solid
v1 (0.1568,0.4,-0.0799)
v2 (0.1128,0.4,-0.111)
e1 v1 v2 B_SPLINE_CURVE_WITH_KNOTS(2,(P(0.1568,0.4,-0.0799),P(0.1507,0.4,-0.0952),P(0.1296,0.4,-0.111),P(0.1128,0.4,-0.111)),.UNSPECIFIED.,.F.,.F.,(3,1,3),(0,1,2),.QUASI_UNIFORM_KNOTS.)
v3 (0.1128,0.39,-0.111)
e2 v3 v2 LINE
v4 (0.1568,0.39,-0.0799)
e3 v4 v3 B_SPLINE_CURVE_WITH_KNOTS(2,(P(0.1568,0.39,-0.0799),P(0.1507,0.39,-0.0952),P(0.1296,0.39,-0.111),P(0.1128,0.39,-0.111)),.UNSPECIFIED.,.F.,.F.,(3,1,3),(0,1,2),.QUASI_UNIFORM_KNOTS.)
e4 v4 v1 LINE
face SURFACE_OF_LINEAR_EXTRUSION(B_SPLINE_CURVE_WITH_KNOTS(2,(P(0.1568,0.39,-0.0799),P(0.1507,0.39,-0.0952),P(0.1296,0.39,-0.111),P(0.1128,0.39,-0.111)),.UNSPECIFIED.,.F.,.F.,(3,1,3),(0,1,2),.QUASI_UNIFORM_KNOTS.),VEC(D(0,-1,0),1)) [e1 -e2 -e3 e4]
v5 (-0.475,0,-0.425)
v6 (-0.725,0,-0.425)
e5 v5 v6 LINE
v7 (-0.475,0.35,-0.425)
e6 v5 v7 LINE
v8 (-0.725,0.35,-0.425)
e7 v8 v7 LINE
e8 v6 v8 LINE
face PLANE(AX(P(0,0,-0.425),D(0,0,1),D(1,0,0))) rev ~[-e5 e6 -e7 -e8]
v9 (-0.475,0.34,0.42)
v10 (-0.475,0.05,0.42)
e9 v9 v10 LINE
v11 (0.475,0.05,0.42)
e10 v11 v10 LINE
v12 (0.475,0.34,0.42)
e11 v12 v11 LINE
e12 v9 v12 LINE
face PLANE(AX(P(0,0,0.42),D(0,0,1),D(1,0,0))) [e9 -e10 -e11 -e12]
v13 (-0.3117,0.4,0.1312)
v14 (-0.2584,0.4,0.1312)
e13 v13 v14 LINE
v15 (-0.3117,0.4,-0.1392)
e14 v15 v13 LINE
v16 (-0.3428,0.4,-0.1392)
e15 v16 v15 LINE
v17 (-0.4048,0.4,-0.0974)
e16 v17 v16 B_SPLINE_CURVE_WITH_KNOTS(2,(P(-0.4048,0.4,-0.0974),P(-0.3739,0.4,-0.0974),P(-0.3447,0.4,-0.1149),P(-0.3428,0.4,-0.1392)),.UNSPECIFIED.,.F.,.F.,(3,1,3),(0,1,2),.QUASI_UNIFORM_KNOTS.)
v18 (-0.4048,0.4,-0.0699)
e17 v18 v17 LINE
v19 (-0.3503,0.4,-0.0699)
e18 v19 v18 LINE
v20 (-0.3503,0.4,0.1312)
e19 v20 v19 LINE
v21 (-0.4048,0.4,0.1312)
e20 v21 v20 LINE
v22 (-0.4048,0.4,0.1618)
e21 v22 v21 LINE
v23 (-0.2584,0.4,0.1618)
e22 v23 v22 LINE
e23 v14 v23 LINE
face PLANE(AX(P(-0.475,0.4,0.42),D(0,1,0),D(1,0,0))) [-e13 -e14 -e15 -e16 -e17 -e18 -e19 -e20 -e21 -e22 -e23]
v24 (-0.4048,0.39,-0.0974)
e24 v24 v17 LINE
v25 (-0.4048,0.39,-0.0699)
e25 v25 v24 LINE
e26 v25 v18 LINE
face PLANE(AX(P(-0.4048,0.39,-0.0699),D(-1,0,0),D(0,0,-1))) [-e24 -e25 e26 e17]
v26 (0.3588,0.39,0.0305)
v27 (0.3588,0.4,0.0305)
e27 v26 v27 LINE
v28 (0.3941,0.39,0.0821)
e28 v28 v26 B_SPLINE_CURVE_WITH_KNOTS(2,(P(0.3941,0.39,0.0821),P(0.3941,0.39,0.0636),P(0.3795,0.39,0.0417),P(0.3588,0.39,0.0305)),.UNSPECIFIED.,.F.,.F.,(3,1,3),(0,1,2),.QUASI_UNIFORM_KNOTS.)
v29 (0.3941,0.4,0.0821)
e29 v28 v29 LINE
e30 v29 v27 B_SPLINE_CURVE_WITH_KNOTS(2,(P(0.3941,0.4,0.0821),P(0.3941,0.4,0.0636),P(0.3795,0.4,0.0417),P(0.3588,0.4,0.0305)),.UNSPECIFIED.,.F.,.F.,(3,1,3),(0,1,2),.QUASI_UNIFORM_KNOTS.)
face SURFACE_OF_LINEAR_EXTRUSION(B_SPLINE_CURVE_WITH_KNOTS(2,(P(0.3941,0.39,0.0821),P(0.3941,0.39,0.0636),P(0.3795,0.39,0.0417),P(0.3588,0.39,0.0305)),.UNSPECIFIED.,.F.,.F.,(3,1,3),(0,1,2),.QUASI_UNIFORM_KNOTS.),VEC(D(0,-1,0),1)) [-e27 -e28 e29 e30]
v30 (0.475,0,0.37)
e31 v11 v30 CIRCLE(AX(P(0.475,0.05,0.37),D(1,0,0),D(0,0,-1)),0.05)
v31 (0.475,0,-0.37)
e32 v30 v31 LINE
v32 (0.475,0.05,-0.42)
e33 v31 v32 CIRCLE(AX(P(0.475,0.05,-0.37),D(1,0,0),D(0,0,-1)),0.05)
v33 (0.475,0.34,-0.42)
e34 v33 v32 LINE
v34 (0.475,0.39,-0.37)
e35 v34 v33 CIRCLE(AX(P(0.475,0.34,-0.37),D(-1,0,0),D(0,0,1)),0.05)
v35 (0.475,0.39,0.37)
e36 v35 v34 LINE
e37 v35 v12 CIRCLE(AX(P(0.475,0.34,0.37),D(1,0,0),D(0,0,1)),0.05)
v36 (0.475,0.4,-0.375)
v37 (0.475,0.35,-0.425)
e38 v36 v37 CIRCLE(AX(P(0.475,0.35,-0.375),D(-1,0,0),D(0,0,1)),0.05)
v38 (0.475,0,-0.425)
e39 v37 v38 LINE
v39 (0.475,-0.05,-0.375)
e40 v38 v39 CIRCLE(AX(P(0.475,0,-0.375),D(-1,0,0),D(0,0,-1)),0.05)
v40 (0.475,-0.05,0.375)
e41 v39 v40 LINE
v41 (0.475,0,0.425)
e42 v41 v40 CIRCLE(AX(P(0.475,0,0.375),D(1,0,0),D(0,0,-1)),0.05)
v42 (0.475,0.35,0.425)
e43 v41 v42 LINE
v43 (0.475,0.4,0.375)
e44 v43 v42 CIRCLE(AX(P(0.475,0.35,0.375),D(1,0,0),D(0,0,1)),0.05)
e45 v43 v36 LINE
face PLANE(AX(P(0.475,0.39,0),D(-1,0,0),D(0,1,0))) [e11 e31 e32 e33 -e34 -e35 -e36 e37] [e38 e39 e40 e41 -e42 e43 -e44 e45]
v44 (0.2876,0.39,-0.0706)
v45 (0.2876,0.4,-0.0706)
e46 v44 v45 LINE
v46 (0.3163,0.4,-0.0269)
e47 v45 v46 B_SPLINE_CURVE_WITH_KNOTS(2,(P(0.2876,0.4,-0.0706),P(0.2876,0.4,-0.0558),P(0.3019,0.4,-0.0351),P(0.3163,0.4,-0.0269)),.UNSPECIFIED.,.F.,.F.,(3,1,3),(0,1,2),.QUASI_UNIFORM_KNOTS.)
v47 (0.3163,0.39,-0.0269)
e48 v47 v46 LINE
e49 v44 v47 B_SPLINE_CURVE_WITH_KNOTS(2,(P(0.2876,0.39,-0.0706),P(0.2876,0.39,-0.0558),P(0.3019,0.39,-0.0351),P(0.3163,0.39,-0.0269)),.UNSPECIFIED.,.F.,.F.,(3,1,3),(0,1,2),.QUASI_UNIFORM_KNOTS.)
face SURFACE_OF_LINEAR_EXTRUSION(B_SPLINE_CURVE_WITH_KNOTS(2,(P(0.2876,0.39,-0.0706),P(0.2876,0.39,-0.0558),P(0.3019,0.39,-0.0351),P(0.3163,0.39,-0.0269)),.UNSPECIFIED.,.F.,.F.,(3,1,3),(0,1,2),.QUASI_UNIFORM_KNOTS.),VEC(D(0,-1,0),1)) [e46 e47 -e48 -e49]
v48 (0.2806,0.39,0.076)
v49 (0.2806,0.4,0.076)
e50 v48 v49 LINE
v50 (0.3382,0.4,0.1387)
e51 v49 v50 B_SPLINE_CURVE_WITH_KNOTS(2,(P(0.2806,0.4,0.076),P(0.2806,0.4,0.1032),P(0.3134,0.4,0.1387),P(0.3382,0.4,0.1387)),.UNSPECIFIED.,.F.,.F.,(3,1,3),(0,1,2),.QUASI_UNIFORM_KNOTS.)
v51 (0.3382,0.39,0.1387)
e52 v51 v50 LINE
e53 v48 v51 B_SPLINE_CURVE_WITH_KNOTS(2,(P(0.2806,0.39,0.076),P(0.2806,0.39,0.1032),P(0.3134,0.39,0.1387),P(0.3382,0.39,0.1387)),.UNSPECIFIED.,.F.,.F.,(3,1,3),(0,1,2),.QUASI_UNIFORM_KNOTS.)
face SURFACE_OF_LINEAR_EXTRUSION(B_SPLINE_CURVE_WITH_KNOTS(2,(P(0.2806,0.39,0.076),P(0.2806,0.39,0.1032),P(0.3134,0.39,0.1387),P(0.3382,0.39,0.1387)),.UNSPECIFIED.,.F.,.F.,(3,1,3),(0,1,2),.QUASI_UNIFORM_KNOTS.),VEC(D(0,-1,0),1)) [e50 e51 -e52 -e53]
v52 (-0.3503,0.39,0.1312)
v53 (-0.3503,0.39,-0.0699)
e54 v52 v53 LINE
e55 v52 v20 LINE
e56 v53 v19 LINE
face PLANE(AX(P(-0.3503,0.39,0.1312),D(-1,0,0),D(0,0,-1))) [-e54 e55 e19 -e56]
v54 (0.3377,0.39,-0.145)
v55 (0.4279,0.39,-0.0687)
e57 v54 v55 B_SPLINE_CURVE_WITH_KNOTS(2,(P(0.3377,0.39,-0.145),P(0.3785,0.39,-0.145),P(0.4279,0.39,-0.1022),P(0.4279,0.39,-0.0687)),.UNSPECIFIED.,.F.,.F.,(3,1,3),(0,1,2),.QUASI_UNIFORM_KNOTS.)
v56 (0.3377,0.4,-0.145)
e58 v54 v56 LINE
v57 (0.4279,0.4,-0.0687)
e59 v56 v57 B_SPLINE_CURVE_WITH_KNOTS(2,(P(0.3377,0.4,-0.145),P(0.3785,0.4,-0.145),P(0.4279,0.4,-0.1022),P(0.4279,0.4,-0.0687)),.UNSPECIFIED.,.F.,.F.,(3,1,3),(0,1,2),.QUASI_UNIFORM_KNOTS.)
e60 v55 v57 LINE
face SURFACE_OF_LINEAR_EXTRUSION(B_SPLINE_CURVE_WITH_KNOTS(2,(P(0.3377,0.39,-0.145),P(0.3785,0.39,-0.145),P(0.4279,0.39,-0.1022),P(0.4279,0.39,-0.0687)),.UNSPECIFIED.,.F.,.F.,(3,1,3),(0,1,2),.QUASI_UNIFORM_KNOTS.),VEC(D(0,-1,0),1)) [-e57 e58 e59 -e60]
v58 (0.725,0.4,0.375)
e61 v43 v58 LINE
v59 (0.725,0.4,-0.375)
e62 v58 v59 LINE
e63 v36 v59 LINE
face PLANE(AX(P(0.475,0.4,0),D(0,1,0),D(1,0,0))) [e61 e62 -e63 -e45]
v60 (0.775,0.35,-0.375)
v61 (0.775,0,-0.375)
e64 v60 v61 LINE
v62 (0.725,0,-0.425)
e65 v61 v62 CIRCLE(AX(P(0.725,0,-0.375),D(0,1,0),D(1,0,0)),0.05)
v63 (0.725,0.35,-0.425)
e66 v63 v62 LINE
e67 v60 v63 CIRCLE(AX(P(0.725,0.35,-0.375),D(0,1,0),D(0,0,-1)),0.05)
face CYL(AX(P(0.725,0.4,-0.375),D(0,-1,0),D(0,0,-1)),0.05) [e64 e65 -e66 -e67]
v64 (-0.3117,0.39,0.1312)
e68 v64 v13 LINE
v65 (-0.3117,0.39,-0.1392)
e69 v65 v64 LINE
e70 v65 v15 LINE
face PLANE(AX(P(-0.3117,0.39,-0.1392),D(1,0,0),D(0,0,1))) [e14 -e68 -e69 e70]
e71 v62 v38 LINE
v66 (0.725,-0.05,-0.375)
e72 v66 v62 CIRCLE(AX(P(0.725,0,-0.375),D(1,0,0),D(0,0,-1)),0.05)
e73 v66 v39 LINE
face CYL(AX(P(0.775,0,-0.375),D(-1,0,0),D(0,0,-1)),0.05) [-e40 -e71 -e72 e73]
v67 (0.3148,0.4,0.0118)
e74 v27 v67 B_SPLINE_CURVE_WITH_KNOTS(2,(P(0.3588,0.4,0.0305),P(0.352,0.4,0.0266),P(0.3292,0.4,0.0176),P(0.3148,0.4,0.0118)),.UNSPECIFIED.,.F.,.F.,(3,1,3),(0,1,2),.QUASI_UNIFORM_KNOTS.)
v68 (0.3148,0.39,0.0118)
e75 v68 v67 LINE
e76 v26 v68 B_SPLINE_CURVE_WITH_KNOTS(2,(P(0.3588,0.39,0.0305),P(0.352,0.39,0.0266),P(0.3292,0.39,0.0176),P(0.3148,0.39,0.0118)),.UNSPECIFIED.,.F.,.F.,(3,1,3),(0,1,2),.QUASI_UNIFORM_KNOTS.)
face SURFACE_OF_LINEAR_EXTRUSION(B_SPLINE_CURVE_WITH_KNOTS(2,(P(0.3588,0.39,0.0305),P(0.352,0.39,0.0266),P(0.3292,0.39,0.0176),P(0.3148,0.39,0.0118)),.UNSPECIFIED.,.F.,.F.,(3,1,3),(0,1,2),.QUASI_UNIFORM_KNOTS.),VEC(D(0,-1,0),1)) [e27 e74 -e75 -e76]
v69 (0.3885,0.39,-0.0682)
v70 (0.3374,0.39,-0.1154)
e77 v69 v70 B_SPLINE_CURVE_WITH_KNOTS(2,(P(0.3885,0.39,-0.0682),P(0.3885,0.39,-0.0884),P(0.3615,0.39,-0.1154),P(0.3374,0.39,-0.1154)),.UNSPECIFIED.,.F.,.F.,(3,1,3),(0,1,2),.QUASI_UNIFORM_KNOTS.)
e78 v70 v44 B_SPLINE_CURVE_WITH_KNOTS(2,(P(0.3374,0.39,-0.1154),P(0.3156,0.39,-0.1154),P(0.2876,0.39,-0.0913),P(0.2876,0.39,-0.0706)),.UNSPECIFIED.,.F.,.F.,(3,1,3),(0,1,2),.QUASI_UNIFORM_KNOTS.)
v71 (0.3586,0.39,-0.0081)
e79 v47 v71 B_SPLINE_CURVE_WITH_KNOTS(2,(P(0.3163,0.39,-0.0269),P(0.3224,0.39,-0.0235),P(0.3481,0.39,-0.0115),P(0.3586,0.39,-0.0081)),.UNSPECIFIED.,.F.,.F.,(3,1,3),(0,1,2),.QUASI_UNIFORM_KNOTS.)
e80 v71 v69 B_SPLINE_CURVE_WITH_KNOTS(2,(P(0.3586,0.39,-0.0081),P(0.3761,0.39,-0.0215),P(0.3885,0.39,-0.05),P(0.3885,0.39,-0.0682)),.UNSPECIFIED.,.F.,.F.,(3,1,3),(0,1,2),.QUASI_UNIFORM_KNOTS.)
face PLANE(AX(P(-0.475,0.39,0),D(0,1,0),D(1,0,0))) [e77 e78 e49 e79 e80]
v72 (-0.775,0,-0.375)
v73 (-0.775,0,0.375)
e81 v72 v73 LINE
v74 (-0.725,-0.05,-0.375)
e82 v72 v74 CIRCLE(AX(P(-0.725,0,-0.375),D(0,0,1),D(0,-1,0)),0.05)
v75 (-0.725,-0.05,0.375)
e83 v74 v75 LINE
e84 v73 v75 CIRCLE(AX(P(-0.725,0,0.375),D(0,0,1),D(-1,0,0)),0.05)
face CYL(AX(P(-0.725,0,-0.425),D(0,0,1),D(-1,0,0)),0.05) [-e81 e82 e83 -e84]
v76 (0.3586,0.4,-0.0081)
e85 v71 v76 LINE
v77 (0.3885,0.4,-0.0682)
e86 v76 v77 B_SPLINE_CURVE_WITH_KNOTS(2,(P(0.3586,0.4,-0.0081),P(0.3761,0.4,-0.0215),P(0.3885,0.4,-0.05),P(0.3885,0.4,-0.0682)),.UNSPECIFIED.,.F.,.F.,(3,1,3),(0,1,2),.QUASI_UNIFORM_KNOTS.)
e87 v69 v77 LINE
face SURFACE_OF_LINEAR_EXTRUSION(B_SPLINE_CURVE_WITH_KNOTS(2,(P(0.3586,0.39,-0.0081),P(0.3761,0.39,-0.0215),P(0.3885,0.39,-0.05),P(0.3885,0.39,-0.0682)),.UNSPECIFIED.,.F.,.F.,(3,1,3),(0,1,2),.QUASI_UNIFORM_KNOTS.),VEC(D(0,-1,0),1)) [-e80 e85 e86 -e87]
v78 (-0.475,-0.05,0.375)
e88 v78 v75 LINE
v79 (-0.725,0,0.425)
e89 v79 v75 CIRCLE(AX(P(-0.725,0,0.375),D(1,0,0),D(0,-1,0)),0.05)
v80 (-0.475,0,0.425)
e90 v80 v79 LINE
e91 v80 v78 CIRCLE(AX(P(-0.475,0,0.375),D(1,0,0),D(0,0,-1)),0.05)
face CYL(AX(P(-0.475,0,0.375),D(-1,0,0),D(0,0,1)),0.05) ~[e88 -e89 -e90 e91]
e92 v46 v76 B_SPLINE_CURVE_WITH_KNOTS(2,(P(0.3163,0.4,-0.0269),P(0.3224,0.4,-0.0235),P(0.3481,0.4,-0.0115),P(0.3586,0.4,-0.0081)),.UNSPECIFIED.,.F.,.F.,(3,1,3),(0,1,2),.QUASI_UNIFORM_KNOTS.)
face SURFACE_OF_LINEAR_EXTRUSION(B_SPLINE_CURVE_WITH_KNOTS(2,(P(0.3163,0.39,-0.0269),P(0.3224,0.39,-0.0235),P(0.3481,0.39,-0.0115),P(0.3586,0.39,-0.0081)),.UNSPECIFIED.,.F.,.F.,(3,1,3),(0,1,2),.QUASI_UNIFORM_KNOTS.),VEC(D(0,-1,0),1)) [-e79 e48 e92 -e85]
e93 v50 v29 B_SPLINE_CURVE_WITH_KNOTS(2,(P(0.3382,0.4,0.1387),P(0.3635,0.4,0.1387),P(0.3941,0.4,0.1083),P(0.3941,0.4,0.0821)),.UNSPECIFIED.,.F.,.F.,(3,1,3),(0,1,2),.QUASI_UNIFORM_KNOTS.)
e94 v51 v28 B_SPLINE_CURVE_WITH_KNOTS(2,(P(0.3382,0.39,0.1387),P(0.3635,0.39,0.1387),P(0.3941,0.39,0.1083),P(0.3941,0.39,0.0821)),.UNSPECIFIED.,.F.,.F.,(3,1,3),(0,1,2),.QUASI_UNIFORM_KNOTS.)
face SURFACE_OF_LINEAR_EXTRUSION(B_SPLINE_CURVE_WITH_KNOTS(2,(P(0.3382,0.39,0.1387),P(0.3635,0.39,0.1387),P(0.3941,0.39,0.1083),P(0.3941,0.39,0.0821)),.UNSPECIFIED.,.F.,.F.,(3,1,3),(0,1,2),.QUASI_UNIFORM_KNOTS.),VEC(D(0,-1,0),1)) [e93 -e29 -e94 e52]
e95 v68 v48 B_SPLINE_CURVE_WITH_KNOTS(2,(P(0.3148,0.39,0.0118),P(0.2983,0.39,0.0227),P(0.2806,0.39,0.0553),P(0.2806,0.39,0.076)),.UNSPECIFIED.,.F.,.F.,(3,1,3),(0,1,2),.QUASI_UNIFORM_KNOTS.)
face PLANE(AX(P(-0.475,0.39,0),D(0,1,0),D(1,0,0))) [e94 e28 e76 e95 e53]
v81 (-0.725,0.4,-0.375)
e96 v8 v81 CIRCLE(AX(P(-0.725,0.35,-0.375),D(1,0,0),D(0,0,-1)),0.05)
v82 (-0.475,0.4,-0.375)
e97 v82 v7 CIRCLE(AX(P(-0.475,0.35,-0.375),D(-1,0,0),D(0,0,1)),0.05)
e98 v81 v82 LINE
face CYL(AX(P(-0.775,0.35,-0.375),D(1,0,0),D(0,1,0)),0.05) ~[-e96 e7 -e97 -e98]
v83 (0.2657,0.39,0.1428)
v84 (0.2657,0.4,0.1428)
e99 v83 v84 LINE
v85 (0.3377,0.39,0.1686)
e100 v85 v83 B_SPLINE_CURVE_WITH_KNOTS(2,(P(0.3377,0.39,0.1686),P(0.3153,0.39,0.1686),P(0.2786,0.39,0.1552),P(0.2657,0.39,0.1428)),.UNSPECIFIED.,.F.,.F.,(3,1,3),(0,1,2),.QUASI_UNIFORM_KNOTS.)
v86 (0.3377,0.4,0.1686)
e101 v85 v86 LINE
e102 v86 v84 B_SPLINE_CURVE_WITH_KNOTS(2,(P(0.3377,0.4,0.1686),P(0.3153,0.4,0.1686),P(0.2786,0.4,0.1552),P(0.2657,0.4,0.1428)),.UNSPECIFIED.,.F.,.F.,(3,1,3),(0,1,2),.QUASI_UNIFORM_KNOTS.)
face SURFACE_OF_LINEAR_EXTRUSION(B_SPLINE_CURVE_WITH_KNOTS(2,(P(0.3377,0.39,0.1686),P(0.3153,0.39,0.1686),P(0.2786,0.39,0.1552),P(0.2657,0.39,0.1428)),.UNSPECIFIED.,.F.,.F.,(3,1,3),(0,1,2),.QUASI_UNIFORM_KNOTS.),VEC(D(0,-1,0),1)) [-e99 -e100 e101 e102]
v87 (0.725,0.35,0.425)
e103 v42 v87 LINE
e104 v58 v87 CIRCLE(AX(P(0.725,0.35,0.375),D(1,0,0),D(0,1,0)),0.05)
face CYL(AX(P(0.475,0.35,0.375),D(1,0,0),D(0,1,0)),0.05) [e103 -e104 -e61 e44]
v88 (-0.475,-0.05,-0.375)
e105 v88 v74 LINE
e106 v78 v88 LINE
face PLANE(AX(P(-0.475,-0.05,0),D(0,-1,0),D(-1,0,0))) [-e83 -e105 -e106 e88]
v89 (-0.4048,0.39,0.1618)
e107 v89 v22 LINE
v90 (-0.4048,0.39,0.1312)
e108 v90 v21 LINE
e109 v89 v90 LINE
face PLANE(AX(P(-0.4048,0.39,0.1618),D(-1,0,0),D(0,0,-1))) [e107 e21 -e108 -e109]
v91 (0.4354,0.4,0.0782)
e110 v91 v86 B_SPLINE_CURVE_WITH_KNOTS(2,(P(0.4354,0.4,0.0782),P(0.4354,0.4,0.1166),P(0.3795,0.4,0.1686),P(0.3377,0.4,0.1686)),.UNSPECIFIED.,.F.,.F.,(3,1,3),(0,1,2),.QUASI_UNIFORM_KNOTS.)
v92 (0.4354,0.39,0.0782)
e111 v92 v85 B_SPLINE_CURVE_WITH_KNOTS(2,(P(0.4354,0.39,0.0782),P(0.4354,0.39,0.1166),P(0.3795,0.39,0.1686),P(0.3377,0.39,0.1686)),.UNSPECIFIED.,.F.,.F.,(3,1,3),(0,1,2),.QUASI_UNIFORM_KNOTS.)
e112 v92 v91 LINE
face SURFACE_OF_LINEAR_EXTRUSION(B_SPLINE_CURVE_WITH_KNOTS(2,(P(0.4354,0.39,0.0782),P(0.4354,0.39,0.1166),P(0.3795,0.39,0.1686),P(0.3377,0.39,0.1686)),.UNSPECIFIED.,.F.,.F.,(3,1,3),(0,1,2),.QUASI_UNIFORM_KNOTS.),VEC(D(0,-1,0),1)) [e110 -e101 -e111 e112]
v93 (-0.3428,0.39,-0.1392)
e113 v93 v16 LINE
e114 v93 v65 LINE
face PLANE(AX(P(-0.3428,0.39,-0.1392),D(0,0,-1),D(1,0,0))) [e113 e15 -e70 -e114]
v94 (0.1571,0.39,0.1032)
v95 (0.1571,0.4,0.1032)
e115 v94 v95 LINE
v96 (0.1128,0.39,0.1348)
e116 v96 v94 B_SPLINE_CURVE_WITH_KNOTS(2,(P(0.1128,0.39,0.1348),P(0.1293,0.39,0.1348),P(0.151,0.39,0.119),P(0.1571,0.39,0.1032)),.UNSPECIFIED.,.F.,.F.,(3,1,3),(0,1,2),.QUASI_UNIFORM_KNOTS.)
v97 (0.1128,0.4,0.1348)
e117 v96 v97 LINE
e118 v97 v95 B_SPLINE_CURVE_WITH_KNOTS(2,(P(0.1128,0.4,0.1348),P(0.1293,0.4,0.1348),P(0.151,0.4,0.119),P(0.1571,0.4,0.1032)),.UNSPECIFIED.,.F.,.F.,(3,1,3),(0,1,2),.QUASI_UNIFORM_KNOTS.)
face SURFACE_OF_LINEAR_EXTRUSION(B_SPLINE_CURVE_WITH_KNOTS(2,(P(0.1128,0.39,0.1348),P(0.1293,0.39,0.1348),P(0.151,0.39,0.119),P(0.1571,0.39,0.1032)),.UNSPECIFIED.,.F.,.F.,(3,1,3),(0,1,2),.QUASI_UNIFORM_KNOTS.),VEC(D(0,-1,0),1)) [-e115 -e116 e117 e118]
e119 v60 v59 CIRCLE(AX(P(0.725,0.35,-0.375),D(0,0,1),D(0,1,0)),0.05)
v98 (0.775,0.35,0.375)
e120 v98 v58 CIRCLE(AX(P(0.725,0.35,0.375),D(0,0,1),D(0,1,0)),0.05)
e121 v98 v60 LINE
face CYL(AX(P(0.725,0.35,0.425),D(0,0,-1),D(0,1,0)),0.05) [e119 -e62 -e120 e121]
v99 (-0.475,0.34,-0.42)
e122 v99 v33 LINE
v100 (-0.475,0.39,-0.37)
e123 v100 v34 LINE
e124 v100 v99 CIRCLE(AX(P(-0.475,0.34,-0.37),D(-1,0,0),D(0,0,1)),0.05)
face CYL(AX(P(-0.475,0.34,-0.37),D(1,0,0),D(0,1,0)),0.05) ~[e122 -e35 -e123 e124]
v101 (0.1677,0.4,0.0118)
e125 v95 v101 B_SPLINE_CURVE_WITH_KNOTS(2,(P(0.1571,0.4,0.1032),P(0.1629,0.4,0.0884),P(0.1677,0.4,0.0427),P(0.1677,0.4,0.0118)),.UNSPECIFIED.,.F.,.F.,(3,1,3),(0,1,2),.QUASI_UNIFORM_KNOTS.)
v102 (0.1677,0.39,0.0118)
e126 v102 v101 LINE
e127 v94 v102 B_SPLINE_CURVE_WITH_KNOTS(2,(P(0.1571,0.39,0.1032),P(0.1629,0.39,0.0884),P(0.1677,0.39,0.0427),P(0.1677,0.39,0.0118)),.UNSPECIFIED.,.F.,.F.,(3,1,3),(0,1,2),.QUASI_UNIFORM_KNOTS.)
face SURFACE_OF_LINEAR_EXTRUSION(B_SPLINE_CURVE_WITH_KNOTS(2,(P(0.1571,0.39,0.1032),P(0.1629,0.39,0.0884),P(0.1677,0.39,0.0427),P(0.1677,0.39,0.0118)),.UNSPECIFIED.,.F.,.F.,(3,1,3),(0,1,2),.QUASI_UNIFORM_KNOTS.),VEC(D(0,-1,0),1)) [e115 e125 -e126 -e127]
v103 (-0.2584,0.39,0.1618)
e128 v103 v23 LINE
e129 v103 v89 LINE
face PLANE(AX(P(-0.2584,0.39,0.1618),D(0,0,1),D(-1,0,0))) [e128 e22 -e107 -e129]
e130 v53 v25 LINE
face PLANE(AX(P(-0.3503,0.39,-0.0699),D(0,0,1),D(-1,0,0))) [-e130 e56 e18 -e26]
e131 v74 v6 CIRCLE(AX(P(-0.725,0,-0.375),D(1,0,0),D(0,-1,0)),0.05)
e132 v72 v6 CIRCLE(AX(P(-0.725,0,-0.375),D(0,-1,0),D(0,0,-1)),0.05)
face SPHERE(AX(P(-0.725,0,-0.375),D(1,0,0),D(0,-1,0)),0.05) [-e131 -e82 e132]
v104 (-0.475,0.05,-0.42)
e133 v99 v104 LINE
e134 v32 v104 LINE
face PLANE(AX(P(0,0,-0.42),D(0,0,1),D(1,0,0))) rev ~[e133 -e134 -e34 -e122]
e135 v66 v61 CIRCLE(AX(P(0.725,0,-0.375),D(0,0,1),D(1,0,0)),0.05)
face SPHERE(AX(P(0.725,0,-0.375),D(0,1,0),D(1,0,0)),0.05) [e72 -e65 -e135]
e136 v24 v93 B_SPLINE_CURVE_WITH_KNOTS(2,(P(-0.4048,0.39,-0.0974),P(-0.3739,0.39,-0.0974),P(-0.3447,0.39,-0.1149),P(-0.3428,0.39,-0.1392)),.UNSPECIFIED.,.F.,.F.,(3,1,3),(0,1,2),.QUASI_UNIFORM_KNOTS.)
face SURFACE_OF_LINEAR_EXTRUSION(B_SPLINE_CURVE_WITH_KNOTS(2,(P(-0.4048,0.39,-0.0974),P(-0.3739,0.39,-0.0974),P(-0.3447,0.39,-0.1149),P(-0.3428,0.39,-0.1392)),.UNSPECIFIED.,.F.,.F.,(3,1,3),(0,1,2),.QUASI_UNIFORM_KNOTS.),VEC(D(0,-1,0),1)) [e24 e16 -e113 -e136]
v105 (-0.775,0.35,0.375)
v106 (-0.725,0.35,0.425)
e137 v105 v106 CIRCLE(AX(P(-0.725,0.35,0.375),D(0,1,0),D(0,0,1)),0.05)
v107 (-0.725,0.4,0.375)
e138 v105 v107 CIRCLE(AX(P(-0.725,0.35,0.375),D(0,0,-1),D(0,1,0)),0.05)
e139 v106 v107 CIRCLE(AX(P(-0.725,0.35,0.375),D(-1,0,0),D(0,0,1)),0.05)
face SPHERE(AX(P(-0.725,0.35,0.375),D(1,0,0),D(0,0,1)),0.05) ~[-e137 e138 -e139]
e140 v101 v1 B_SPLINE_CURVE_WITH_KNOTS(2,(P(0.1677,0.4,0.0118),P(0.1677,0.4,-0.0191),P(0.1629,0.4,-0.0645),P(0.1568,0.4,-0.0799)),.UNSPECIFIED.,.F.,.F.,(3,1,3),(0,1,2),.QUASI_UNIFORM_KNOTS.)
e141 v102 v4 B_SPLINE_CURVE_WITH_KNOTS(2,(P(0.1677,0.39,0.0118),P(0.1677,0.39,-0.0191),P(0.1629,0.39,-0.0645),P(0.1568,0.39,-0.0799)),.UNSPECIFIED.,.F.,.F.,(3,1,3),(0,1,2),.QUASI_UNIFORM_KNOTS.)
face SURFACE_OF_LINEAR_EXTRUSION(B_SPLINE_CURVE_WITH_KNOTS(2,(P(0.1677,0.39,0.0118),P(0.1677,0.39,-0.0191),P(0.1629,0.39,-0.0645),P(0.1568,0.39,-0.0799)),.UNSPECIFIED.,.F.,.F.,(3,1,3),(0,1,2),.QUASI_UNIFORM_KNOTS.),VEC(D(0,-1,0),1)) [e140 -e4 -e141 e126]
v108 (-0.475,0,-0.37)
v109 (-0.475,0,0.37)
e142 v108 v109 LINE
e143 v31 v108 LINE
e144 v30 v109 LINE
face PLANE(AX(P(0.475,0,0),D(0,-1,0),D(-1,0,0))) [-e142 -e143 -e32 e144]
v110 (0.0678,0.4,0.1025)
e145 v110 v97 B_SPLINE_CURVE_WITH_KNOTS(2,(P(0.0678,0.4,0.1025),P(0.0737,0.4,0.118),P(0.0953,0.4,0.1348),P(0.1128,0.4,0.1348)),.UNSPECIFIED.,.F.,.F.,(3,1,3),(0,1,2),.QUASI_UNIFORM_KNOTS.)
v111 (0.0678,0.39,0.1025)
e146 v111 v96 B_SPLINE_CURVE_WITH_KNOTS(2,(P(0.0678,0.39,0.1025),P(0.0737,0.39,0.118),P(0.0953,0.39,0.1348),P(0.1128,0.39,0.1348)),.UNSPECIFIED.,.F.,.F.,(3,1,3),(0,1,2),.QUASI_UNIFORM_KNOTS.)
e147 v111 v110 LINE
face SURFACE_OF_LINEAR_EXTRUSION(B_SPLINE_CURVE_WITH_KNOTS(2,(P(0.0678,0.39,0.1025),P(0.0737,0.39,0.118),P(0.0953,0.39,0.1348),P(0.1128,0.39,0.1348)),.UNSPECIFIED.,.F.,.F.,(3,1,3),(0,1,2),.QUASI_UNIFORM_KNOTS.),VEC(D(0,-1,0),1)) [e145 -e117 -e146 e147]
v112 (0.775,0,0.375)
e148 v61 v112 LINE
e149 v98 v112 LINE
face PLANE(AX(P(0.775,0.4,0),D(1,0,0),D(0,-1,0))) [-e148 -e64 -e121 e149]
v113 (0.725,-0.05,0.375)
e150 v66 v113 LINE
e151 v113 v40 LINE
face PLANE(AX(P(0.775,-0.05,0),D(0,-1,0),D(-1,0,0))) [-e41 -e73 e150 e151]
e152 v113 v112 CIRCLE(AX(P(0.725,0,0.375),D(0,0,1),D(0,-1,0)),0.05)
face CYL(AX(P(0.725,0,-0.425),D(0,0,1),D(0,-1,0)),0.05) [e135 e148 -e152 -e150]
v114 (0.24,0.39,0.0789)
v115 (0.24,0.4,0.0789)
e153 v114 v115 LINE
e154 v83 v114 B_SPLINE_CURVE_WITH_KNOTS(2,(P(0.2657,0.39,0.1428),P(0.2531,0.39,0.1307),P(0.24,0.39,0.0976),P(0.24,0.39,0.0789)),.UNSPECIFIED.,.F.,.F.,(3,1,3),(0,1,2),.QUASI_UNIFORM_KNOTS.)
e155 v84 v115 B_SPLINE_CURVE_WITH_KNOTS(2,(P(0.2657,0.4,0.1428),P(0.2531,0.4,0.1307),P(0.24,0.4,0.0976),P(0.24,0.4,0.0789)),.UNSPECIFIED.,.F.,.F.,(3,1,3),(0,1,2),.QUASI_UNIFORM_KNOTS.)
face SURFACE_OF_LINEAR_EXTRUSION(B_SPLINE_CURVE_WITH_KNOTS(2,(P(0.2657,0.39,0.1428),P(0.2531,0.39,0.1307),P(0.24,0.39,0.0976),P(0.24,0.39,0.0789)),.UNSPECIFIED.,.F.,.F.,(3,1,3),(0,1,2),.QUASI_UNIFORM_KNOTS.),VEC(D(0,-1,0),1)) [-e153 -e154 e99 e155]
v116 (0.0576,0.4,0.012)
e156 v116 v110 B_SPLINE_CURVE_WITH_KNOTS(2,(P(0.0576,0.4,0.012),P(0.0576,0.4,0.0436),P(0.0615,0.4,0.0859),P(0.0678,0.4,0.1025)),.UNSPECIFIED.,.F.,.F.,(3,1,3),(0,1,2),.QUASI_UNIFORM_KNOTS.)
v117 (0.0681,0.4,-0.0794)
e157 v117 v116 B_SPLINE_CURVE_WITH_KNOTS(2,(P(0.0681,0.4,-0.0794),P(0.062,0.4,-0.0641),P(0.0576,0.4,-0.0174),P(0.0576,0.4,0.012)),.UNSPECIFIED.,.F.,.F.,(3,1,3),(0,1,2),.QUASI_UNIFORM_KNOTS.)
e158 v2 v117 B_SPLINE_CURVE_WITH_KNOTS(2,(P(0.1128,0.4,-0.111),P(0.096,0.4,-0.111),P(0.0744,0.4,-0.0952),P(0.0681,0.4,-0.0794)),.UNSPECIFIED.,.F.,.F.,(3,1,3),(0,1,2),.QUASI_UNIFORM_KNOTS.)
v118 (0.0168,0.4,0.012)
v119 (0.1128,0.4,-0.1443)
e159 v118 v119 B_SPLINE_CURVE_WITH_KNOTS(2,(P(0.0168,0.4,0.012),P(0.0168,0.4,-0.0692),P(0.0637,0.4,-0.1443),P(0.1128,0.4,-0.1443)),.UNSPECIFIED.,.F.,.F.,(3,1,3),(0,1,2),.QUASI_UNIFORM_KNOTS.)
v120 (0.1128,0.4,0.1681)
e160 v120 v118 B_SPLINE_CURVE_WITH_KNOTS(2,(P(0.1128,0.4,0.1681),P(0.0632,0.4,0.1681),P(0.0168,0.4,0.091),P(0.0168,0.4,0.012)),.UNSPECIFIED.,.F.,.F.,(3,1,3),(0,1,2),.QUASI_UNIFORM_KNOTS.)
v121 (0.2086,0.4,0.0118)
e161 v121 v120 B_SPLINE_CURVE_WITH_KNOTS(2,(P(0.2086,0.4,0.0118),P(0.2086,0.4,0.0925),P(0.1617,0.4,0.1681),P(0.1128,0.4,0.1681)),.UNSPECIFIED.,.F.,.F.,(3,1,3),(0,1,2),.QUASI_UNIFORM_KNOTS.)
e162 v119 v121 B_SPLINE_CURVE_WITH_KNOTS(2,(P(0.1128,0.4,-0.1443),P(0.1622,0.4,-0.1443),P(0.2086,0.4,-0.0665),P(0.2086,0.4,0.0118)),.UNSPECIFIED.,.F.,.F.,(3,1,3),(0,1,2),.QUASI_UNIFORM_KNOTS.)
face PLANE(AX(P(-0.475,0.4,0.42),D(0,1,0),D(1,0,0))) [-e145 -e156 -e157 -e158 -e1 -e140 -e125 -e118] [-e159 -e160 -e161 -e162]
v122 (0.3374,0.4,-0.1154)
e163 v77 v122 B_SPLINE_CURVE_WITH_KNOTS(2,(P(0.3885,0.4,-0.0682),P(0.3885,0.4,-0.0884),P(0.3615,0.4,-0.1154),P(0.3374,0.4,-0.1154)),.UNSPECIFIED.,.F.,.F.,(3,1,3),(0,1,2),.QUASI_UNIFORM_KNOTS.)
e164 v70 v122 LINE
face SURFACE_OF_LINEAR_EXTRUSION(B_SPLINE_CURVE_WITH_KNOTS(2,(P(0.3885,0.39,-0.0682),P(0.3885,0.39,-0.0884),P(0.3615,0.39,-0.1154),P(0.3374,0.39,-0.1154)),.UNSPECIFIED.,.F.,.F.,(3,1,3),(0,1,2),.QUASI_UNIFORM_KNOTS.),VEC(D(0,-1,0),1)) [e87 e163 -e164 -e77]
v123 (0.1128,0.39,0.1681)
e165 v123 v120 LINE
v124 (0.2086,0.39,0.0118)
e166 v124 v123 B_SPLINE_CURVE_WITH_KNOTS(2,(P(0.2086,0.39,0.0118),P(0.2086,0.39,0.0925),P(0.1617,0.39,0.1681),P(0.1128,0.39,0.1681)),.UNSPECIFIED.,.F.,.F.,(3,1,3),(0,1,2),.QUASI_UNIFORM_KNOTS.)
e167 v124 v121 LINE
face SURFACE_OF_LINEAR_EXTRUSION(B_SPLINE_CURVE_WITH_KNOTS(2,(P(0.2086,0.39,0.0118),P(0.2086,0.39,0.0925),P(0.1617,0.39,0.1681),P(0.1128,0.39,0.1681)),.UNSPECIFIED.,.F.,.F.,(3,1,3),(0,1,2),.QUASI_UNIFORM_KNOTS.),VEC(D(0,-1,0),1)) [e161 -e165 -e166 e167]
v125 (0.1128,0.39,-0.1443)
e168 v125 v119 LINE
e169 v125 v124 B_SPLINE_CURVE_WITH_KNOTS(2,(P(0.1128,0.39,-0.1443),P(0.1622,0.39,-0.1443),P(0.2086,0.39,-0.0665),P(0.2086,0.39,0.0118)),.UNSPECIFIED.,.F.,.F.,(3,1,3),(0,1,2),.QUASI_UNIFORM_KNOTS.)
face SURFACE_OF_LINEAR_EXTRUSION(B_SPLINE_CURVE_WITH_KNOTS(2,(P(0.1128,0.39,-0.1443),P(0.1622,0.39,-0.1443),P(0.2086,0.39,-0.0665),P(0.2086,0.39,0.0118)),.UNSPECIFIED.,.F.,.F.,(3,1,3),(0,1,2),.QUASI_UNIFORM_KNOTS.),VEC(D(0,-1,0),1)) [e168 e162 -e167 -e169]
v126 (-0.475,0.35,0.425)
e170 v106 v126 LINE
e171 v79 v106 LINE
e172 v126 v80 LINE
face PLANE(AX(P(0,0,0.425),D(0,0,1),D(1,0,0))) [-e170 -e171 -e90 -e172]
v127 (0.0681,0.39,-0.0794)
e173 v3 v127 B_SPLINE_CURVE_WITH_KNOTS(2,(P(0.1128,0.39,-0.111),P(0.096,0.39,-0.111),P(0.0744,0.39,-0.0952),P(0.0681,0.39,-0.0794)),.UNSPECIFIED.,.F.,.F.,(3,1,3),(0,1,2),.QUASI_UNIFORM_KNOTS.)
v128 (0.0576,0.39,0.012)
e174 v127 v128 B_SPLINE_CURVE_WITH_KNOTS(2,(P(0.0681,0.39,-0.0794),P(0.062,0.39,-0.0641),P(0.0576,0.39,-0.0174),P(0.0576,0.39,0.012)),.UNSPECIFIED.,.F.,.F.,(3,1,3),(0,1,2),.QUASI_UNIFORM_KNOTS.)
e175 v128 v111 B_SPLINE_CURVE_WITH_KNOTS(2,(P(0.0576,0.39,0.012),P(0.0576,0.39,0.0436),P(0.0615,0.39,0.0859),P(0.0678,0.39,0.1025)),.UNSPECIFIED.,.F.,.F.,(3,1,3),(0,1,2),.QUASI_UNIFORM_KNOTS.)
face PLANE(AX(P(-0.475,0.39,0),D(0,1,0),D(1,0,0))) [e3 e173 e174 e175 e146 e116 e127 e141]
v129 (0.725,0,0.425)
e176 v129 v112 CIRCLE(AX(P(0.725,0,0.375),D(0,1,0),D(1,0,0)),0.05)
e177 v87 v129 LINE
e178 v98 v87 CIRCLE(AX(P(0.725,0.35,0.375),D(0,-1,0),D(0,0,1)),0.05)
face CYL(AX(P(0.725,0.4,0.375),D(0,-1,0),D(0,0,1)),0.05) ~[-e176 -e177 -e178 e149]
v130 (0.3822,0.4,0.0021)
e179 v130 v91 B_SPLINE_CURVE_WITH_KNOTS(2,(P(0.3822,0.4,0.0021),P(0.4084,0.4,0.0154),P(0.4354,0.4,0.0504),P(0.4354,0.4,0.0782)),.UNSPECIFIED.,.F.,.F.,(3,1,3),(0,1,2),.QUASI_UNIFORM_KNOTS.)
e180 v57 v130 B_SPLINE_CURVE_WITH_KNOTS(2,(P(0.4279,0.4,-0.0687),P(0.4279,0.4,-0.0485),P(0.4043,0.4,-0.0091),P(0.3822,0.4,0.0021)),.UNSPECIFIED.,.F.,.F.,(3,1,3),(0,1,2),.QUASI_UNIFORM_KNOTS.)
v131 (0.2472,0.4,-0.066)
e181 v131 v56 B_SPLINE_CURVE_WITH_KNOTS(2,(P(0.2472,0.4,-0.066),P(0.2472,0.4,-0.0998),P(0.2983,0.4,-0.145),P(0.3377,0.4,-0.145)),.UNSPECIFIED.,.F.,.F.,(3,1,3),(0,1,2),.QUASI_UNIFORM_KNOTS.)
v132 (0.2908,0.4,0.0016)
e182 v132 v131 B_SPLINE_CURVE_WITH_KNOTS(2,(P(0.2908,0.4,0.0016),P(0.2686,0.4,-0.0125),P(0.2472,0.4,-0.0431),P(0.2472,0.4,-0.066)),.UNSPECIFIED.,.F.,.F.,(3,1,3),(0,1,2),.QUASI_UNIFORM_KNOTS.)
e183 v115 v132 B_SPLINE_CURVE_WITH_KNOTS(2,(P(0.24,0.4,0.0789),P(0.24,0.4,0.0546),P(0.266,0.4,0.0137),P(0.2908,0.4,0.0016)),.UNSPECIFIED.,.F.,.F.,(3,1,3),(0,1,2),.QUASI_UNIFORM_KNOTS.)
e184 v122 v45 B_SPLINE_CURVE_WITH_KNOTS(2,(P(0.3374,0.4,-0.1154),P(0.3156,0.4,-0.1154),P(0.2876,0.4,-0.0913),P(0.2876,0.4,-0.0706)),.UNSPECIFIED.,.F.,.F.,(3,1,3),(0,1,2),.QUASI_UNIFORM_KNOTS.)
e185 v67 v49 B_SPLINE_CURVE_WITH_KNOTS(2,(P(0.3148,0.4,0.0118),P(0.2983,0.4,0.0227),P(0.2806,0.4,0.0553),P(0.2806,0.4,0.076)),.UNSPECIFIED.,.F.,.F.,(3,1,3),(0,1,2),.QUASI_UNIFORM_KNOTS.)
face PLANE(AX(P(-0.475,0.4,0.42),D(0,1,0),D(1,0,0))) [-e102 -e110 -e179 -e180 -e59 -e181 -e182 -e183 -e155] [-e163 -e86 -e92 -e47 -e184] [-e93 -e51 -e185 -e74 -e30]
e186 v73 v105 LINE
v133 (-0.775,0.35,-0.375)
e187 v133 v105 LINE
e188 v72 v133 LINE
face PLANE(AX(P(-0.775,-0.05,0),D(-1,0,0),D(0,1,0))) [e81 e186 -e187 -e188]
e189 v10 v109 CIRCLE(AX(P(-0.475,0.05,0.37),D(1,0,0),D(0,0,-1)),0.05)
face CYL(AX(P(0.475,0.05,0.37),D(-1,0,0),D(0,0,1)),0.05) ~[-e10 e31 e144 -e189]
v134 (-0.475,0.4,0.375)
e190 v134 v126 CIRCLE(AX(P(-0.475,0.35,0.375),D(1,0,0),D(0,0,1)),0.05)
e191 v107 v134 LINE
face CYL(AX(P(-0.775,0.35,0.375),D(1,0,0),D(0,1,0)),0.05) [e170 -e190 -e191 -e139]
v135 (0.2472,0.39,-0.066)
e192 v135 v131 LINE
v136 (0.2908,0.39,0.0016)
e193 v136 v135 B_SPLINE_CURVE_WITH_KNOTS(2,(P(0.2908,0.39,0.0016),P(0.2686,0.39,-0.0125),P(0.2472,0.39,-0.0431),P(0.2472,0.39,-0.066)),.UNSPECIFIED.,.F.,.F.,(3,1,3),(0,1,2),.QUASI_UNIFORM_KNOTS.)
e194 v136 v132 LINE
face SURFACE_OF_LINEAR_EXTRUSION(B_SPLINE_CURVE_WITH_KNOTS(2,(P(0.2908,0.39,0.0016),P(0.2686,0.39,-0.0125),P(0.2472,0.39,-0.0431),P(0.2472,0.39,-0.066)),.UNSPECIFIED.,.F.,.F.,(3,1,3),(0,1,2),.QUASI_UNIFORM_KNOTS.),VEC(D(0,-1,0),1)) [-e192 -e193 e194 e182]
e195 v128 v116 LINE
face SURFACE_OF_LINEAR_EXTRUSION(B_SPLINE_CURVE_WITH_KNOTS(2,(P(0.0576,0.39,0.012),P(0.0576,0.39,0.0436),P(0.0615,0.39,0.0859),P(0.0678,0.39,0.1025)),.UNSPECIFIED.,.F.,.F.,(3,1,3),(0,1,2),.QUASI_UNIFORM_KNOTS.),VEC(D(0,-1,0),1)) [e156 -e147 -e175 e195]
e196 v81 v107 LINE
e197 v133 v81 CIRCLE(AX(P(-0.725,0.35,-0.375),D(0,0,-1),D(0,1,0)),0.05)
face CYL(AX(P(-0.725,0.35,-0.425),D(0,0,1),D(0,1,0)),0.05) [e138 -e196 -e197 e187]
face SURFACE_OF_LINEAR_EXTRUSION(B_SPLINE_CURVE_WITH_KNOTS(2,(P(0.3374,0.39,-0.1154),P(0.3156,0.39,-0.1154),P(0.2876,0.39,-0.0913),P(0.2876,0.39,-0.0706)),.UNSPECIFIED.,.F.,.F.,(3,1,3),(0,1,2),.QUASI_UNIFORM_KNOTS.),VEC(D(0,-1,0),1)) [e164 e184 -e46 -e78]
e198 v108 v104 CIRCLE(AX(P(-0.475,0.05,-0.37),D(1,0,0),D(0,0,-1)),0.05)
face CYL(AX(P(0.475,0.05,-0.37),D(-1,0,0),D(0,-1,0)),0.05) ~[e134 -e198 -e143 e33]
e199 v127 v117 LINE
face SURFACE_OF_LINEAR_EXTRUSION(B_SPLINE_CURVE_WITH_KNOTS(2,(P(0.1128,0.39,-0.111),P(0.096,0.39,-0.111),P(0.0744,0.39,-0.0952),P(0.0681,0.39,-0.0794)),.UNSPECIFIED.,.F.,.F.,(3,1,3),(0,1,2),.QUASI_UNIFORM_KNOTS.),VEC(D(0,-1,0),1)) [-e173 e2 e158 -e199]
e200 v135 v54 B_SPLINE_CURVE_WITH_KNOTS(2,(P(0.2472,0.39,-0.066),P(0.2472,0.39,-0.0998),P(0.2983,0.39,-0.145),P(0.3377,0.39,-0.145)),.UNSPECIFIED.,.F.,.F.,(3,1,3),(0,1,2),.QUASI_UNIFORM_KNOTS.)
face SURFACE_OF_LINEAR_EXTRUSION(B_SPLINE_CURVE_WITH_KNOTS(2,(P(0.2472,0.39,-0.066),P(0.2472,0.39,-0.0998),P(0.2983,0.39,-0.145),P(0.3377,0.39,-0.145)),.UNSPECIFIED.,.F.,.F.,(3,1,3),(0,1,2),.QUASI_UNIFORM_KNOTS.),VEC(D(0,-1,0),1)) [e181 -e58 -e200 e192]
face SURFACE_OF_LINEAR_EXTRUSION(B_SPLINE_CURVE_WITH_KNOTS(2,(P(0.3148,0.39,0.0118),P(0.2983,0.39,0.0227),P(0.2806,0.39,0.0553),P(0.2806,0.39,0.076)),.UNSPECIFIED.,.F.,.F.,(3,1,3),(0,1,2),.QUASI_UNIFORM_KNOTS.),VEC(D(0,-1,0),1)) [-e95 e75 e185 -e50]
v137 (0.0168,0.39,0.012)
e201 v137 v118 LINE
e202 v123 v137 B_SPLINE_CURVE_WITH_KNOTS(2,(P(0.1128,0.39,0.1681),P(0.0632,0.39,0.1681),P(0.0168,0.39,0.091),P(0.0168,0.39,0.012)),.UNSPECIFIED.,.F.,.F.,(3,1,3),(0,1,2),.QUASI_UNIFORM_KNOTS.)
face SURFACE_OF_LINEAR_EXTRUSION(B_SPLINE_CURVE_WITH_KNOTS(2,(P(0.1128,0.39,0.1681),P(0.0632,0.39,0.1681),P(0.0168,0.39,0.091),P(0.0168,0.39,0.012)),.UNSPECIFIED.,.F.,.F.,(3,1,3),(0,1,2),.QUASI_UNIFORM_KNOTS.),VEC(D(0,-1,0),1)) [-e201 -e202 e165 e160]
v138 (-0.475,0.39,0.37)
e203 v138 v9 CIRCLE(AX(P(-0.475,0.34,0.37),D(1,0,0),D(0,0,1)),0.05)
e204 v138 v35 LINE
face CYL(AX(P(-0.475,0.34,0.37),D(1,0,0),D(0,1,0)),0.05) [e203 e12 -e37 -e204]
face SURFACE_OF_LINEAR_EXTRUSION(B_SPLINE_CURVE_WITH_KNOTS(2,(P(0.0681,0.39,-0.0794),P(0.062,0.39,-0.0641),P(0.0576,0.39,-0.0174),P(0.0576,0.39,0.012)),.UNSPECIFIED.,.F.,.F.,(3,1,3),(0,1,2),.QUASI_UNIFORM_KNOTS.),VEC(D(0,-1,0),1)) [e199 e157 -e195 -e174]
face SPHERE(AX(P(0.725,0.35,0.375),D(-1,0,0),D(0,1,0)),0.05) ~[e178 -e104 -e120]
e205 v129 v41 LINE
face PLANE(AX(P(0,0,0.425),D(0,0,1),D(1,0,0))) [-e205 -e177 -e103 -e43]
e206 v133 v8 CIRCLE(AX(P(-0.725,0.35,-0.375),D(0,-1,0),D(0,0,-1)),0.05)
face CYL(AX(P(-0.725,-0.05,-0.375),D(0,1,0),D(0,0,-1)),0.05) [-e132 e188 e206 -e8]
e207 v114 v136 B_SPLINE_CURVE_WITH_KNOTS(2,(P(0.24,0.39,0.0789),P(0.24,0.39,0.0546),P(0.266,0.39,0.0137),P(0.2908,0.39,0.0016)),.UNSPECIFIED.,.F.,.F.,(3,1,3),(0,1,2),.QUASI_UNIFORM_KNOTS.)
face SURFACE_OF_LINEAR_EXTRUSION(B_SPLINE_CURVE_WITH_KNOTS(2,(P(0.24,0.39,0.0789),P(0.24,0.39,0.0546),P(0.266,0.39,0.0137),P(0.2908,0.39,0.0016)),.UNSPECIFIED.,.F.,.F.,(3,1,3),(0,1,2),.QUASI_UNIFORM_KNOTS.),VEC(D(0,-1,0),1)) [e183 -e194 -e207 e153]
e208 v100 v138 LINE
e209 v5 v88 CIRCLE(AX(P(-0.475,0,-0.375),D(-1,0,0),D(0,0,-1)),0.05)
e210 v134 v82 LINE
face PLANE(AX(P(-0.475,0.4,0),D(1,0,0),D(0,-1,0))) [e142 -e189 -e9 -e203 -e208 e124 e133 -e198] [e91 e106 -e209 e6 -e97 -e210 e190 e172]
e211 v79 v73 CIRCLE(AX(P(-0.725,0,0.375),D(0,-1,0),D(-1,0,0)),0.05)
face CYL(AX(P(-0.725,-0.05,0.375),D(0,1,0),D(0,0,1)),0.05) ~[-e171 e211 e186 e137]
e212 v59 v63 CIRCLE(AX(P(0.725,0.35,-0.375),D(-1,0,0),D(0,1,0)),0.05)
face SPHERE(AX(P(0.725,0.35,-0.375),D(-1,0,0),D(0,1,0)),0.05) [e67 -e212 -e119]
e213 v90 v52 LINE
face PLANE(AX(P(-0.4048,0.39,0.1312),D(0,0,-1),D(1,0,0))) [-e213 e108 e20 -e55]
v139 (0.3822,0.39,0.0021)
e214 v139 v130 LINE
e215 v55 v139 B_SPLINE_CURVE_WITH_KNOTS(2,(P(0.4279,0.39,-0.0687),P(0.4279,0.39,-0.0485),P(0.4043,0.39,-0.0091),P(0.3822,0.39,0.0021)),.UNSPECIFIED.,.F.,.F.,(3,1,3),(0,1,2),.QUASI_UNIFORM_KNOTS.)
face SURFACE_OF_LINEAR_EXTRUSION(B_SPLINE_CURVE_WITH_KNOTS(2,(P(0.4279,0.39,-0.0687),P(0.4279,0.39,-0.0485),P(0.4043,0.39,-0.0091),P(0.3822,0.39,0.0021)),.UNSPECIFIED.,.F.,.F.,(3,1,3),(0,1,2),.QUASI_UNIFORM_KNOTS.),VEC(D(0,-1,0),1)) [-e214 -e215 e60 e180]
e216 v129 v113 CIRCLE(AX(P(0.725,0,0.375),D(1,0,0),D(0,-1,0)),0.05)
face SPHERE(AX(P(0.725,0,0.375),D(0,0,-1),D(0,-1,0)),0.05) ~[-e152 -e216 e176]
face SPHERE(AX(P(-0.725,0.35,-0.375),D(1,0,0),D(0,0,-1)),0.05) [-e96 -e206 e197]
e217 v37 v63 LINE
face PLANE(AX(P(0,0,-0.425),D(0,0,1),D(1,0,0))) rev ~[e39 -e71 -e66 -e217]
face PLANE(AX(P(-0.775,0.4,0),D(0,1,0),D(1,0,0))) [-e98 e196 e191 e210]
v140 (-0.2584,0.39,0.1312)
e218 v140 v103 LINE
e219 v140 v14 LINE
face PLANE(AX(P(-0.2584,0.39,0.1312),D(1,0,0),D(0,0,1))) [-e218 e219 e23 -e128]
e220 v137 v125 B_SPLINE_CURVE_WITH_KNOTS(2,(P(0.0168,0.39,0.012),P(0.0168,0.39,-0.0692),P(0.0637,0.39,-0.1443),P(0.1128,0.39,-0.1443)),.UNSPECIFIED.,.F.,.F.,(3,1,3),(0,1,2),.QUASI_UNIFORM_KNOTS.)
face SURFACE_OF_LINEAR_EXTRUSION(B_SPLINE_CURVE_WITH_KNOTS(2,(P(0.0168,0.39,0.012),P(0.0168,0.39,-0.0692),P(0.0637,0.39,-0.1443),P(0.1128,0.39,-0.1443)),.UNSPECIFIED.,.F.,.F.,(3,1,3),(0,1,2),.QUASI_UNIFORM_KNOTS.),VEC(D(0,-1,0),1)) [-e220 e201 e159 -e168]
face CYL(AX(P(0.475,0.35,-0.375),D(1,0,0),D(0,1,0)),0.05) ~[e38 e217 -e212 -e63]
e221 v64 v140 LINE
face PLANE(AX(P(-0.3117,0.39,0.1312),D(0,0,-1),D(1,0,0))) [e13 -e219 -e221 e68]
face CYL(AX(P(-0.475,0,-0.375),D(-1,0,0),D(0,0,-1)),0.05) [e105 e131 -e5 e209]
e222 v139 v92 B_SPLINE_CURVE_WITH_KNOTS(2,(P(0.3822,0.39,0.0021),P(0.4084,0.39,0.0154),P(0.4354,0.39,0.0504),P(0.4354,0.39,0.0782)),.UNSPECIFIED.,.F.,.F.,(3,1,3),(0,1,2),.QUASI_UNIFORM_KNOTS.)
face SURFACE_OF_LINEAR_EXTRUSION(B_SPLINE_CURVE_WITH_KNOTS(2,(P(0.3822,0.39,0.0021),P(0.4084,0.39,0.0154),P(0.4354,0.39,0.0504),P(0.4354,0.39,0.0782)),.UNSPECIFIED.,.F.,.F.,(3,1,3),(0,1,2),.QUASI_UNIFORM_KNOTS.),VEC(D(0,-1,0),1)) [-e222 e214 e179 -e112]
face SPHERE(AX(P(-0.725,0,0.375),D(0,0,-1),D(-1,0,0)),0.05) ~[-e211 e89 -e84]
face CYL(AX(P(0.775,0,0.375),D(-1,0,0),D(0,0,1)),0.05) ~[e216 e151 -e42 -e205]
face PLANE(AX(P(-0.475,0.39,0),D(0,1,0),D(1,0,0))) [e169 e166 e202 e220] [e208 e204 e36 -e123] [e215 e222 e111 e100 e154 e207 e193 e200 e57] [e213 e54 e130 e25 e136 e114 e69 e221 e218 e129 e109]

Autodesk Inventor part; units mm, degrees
ref_plane "YZ Plane" through (0, 0, 0) normal (1, 0, 0) x (0, 1, 0)
ref_plane "XZ Plane" through (0, 0, 0) normal (0, 1, 0) x (-1, 0, 0)
ref_plane "XY Plane" through (0, 0, 0) normal (0, 0, 1) x (1, 0, 0)
sketch "Sketch1" plane through (0, 0, 0) normal (0, 0, 1) x (1, 0, 0)
  line L0 (-0.775, 0.4) -> (-0.475, 0.4)
  line L1 (-0.475, 0.4) -> (-0.475, -0.05)
  line L2 (-0.475, -0.05) -> (-0.775, -0.05)
  line L3 (-0.775, -0.05) -> (-0.775, 0.4)
  line L4 (-0.475, 0.39) -> (0.475, 0.39)
  line L5 (0.475, 0.39) -> (0.475, 0)
  line L6 (0.475, 0) -> (-0.475, 0)
  line L7 (-0.475, 0) -> (-0.475, 0.39)
  line L8 (0.475, 0.4) -> (0.775, 0.4)
  line L9 (0.775, 0.4) -> (0.775, -0.05)
  line L10 (0.775, -0.05) -> (0.475, -0.05)
  line L11 (0.475, -0.05) -> (0.475, 0.4)
  point P0 (0, 0)
  point P1 (0, 0.39)
  point P2 (0, 0)
  dimension "d0" = 1.55
  dimension "d1" = 0.45
  dimension "d2" = 0.3
  dimension "d3" = 0.05
  dimension "d6" = 0.01
extrude "Extrusion1" add sketch "Sketch1" along normal mid plane 0.85 contours L0 L1 L2 L3 | L11 L8 L9 L10 L5
extrude "Extrusion2" add sketch "Sketch1" along normal mid plane 0.84 contours L4 L5 L6 L1
sketch "Sketch3" plane through (-0.475, 0.39, 0.42) normal (0, 1, 0) x (1, 0, 0)
  line L0 (0, 0) -> (0, 0.84) projected
  line L1 (0.95, 0) -> (0, 0) projected
  line L2 (0.95, 0.84) -> (0.95, 0) projected
  line L3 (0, 0.84) -> (0.95, 0.84) projected
  line L4 (0.95, 0.845) -> (0.95, -0.005) construction
  line L5 (0.95, 0.2582) -> (0, 0.2582) construction
  line L6 (0, 0.845) -> (0, -0.005) construction
  line L7 (0.2166, 0.2582) -> (0.0702, 0.2582)
  line L8 (0.0702, 0.2582) -> (0.0702, 0.2888)
  line L9 (0.0702, 0.2888) -> (0.1247, 0.2888)
  line L10 (0.1247, 0.2888) -> (0.1247, 0.4899)
  line L11 (0.1247, 0.4899) -> (0.0702, 0.4899)
  line L12 (0.0702, 0.4899) -> (0.0702, 0.5174)
  spline S0 degree 2 poles (0.0702, 0.5174) (0.1011, 0.5174) (0.1303, 0.5349) (0.1322, 0.5592) knots 0 0 0 1 2 2 2
  line L13 (0.1322, 0.5592) -> (0.1633, 0.5592)
  line L14 (0.1633, 0.5592) -> (0.1633, 0.2888)
  line L15 (0.1633, 0.2888) -> (0.2166, 0.2888)
  line L16 (0.2166, 0.2888) -> (0.2166, 0.2582)
  spline S1 degree 2 poles (0.4614, 0.3555) (0.4614, 0.3324) (0.4461, 0.2932) (0.4332, 0.2801) knots 0 0 0 1 2 2 2
  spline S2 degree 2 poles (0.4332, 0.2801) (0.4198, 0.2662) (0.3863, 0.2519) (0.3661, 0.2519) knots 0 0 0 1 2 2 2
  spline S3 degree 2 poles (0.3661, 0.2519) (0.3459, 0.2519) (0.3126, 0.2655) (0.3, 0.2791) knots 0 0 0 1 2 2 2
  spline S4 degree 2 poles (0.3, 0.2791) (0.2844, 0.2954) (0.2669, 0.3501) (0.2669, 0.39) knots 0 0 0 1 2 2 2
  spline S5 degree 2 poles (0.2669, 0.39) (0.2669, 0.4291) (0.2829, 0.4921) (0.2997, 0.5154) knots 0 0 0 1 2 2 2
  spline S6 degree 2 poles (0.2997, 0.5154) (0.316, 0.5383) (0.3675, 0.5638) (0.4013, 0.5638) knots 0 0 0 1 2 2 2
  spline S7 degree 2 poles (0.4013, 0.5638) (0.4113, 0.5638) (0.4288, 0.5619) (0.4354, 0.5597) knots 0 0 0 1 2 2 2
  line L17 (0.4354, 0.5597) -> (0.4354, 0.521)
  line L18 (0.4354, 0.521) -> (0.4337, 0.521)
  spline S8 degree 2 poles (0.4337, 0.521) (0.4281, 0.5239) (0.4077, 0.529) (0.396, 0.529) knots 0 0 0 1 2 2 2
  spline S9 degree 2 poles (0.396, 0.529) (0.3585, 0.529) (0.3126, 0.4785) (0.3082, 0.4289) knots 0 0 0 1 2 2 2
  spline S10 degree 2 poles (0.3082, 0.4289) (0.3226, 0.4388) (0.3527, 0.4498) (0.3707, 0.4498) knots 0 0 0 1 2 2 2
  spline S11 degree 2 poles (0.3707, 0.4498) (0.3882, 0.4498) (0.4145, 0.4427) (0.4288, 0.432) knots 0 0 0 1 2 2 2
  spline S12 degree 2 poles (0.4288, 0.432) (0.4453, 0.4196) (0.4614, 0.3812) (0.4614, 0.3555) knots 0 0 0 1 2 2 2
  spline S13 degree 2 poles (0.4205, 0.3537) (0.4205, 0.3722) (0.4108, 0.3973) (0.4001, 0.406) knots 0 0 0 1 2 2 2
  spline S14 degree 2 poles (0.4001, 0.406) (0.3921, 0.4123) (0.3722, 0.4165) (0.3617, 0.4165) knots 0 0 0 1 2 2 2
  spline S15 degree 2 poles (0.3617, 0.4165) (0.3476, 0.4165) (0.3211, 0.408) (0.3082, 0.3999) knots 0 0 0 1 2 2 2
  spline S16 degree 2 poles (0.3082, 0.3999) (0.308, 0.3956) (0.3075, 0.3873) (0.3075, 0.381) knots 0 0 0 1 2 2 2
  spline S17 degree 2 poles (0.3075, 0.381) (0.3075, 0.3499) (0.3197, 0.3117) (0.3289, 0.3017) knots 0 0 0 1 2 2 2
  spline S18 degree 2 poles (0.3289, 0.3017) (0.3374, 0.2922) (0.3559, 0.2847) (0.3663, 0.2847) knots 0 0 0 1 2 2 2
  spline S19 degree 2 poles (0.3663, 0.2847) (0.3906, 0.2847) (0.4205, 0.3192) (0.4205, 0.3537) knots 0 0 0 1 2 2 2
  spline S20 degree 2 poles (0.6836, 0.4082) (0.6836, 0.3275) (0.6367, 0.2519) (0.5878, 0.2519) knots 0 0 0 1 2 2 2
  spline S21 degree 2 poles (0.5878, 0.2519) (0.5382, 0.2519) (0.4918, 0.329) (0.4918, 0.408) knots 0 0 0 1 2 2 2
  spline S22 degree 2 poles (0.4918, 0.408) (0.4918, 0.4892) (0.5387, 0.5643) (0.5878, 0.5643) knots 0 0 0 1 2 2 2
  spline S23 degree 2 poles (0.5878, 0.5643) (0.6372, 0.5643) (0.6836, 0.4865) (0.6836, 0.4082) knots 0 0 0 1 2 2 2
  spline S24 degree 2 poles (0.6321, 0.3168) (0.6379, 0.3316) (0.6427, 0.3773) (0.6427, 0.4082) knots 0 0 0 1 2 2 2
  spline S25 degree 2 poles (0.6427, 0.4082) (0.6427, 0.4391) (0.6379, 0.4845) (0.6318, 0.4999) knots 0 0 0 1 2 2 2
  spline S26 degree 2 poles (0.6318, 0.4999) (0.6257, 0.5152) (0.6046, 0.531) (0.5878, 0.531) knots 0 0 0 1 2 2 2
  spline S27 degree 2 poles (0.5878, 0.531) (0.571, 0.531) (0.5494, 0.5152) (0.5431, 0.4994) knots 0 0 0 1 2 2 2
  spline S28 degree 2 poles (0.5431, 0.4994) (0.537, 0.4841) (0.5326, 0.4374) (0.5326, 0.408) knots 0 0 0 1 2 2 2
  spline S29 degree 2 poles (0.5326, 0.408) (0.5326, 0.3764) (0.5365, 0.3341) (0.5428, 0.3175) knots 0 0 0 1 2 2 2
  spline S30 degree 2 poles (0.5428, 0.3175) (0.5487, 0.302) (0.5703, 0.2852) (0.5878, 0.2852) knots 0 0 0 1 2 2 2
  spline S31 degree 2 poles (0.5878, 0.2852) (0.6043, 0.2852) (0.626, 0.301) (0.6321, 0.3168) knots 0 0 0 1 2 2 2
  spline S32 degree 2 poles (0.8127, 0.2514) (0.7903, 0.2514) (0.7536, 0.2648) (0.7407, 0.2772) knots 0 0 0 1 2 2 2
  spline S33 degree 2 poles (0.7407, 0.2772) (0.7281, 0.2893) (0.715, 0.3224) (0.715, 0.3411) knots 0 0 0 1 2 2 2
  spline S34 degree 2 poles (0.715, 0.3411) (0.715, 0.3654) (0.741, 0.4063) (0.7658, 0.4184) knots 0 0 0 1 2 2 2
  line L19 (0.7658, 0.4184) -> (0.7658, 0.4196)
  spline S35 degree 2 poles (0.7658, 0.4196) (0.7436, 0.4325) (0.7222, 0.4631) (0.7222, 0.486) knots 0 0 0 1 2 2 2
  spline S36 degree 2 poles (0.7222, 0.486) (0.7222, 0.5198) (0.7733, 0.565) (0.8127, 0.565) knots 0 0 0 1 2 2 2
  spline S37 degree 2 poles (0.8127, 0.565) (0.8535, 0.565) (0.9029, 0.5222) (0.9029, 0.4887) knots 0 0 0 1 2 2 2
  spline S38 degree 2 poles (0.9029, 0.4887) (0.9029, 0.4685) (0.8793, 0.4291) (0.8572, 0.4179) knots 0 0 0 1 2 2 2
  line L20 (0.8572, 0.4179) -> (0.8572, 0.4167)
  spline S39 degree 2 poles (0.8572, 0.4167) (0.8834, 0.4046) (0.9104, 0.3696) (0.9104, 0.3418) knots 0 0 0 1 2 2 2
  spline S40 degree 2 poles (0.9104, 0.3418) (0.9104, 0.3034) (0.8545, 0.2514) (0.8127, 0.2514) knots 0 0 0 1 2 2 2
  spline S41 degree 2 poles (0.8691, 0.3379) (0.8691, 0.3564) (0.8545, 0.3783) (0.8338, 0.3895) knots 0 0 0 1 2 2 2
  spline S42 degree 2 poles (0.8338, 0.3895) (0.827, 0.3934) (0.8042, 0.4024) (0.7898, 0.4082) knots 0 0 0 1 2 2 2
  spline S43 degree 2 poles (0.7898, 0.4082) (0.7733, 0.3973) (0.7556, 0.3647) (0.7556, 0.344) knots 0 0 0 1 2 2 2
  spline S44 degree 2 poles (0.7556, 0.344) (0.7556, 0.3168) (0.7884, 0.2813) (0.8132, 0.2813) knots 0 0 0 1 2 2 2
  spline S45 degree 2 poles (0.8132, 0.2813) (0.8385, 0.2813) (0.8691, 0.3117) (0.8691, 0.3379) knots 0 0 0 1 2 2 2
  spline S46 degree 2 poles (0.8635, 0.4882) (0.8635, 0.5084) (0.8365, 0.5354) (0.8124, 0.5354) knots 0 0 0 1 2 2 2
  spline S47 degree 2 poles (0.8124, 0.5354) (0.7906, 0.5354) (0.7626, 0.5113) (0.7626, 0.4906) knots 0 0 0 1 2 2 2
  spline S48 degree 2 poles (0.7626, 0.4906) (0.7626, 0.4758) (0.7769, 0.4551) (0.7913, 0.4469) knots 0 0 0 1 2 2 2
  spline S49 degree 2 poles (0.7913, 0.4469) (0.7974, 0.4435) (0.8231, 0.4315) (0.8336, 0.4281) knots 0 0 0 1 2 2 2
  spline S50 degree 2 poles (0.8336, 0.4281) (0.8511, 0.4415) (0.8635, 0.47) (0.8635, 0.4882) knots 0 0 0 1 2 2 2
  point P0 (0.475, 0.42)
extrude "Extrusion4" add sketch "Sketch3" along normal blind 0.01 contours L7 L8 L9 L10 L11 L12 S0 L13 L14 L15 L16 | S20 S21 S22 S23 | S32 S33 S34 S35 S36 S37 S38 S39 S40
fillet "Fillet1" radius 0.05 20 edges at (-0.625, 0.4, 0.425) (0, 0.39, 0.42) (0.625, 0.4, 0.425) (-0.625, 0.4, -0.425) (0, 0.39, -0.42) (0.625, 0.4, -0.425) (0.775, 0.4, 0) (0.775, 0.175, -0.425) (0.775, -0.05, 0) (0.625, -0.05, -0.425) (0.625, -0.05, 0.425) (0.775, 0.175, 0.425) (0, 0, 0.42) (0, 0, -0.42) (-0.625, -0.05, -0.425) (-0.775, -0.05, 0) (-0.775, 0.175, 0.425) (-0.625, -0.05, 0.425) (-0.775, 0.175, -0.425) (-0.775, 0.4, 0)
properties part number "Resistor_1608-0.5mm" material "Copper"
